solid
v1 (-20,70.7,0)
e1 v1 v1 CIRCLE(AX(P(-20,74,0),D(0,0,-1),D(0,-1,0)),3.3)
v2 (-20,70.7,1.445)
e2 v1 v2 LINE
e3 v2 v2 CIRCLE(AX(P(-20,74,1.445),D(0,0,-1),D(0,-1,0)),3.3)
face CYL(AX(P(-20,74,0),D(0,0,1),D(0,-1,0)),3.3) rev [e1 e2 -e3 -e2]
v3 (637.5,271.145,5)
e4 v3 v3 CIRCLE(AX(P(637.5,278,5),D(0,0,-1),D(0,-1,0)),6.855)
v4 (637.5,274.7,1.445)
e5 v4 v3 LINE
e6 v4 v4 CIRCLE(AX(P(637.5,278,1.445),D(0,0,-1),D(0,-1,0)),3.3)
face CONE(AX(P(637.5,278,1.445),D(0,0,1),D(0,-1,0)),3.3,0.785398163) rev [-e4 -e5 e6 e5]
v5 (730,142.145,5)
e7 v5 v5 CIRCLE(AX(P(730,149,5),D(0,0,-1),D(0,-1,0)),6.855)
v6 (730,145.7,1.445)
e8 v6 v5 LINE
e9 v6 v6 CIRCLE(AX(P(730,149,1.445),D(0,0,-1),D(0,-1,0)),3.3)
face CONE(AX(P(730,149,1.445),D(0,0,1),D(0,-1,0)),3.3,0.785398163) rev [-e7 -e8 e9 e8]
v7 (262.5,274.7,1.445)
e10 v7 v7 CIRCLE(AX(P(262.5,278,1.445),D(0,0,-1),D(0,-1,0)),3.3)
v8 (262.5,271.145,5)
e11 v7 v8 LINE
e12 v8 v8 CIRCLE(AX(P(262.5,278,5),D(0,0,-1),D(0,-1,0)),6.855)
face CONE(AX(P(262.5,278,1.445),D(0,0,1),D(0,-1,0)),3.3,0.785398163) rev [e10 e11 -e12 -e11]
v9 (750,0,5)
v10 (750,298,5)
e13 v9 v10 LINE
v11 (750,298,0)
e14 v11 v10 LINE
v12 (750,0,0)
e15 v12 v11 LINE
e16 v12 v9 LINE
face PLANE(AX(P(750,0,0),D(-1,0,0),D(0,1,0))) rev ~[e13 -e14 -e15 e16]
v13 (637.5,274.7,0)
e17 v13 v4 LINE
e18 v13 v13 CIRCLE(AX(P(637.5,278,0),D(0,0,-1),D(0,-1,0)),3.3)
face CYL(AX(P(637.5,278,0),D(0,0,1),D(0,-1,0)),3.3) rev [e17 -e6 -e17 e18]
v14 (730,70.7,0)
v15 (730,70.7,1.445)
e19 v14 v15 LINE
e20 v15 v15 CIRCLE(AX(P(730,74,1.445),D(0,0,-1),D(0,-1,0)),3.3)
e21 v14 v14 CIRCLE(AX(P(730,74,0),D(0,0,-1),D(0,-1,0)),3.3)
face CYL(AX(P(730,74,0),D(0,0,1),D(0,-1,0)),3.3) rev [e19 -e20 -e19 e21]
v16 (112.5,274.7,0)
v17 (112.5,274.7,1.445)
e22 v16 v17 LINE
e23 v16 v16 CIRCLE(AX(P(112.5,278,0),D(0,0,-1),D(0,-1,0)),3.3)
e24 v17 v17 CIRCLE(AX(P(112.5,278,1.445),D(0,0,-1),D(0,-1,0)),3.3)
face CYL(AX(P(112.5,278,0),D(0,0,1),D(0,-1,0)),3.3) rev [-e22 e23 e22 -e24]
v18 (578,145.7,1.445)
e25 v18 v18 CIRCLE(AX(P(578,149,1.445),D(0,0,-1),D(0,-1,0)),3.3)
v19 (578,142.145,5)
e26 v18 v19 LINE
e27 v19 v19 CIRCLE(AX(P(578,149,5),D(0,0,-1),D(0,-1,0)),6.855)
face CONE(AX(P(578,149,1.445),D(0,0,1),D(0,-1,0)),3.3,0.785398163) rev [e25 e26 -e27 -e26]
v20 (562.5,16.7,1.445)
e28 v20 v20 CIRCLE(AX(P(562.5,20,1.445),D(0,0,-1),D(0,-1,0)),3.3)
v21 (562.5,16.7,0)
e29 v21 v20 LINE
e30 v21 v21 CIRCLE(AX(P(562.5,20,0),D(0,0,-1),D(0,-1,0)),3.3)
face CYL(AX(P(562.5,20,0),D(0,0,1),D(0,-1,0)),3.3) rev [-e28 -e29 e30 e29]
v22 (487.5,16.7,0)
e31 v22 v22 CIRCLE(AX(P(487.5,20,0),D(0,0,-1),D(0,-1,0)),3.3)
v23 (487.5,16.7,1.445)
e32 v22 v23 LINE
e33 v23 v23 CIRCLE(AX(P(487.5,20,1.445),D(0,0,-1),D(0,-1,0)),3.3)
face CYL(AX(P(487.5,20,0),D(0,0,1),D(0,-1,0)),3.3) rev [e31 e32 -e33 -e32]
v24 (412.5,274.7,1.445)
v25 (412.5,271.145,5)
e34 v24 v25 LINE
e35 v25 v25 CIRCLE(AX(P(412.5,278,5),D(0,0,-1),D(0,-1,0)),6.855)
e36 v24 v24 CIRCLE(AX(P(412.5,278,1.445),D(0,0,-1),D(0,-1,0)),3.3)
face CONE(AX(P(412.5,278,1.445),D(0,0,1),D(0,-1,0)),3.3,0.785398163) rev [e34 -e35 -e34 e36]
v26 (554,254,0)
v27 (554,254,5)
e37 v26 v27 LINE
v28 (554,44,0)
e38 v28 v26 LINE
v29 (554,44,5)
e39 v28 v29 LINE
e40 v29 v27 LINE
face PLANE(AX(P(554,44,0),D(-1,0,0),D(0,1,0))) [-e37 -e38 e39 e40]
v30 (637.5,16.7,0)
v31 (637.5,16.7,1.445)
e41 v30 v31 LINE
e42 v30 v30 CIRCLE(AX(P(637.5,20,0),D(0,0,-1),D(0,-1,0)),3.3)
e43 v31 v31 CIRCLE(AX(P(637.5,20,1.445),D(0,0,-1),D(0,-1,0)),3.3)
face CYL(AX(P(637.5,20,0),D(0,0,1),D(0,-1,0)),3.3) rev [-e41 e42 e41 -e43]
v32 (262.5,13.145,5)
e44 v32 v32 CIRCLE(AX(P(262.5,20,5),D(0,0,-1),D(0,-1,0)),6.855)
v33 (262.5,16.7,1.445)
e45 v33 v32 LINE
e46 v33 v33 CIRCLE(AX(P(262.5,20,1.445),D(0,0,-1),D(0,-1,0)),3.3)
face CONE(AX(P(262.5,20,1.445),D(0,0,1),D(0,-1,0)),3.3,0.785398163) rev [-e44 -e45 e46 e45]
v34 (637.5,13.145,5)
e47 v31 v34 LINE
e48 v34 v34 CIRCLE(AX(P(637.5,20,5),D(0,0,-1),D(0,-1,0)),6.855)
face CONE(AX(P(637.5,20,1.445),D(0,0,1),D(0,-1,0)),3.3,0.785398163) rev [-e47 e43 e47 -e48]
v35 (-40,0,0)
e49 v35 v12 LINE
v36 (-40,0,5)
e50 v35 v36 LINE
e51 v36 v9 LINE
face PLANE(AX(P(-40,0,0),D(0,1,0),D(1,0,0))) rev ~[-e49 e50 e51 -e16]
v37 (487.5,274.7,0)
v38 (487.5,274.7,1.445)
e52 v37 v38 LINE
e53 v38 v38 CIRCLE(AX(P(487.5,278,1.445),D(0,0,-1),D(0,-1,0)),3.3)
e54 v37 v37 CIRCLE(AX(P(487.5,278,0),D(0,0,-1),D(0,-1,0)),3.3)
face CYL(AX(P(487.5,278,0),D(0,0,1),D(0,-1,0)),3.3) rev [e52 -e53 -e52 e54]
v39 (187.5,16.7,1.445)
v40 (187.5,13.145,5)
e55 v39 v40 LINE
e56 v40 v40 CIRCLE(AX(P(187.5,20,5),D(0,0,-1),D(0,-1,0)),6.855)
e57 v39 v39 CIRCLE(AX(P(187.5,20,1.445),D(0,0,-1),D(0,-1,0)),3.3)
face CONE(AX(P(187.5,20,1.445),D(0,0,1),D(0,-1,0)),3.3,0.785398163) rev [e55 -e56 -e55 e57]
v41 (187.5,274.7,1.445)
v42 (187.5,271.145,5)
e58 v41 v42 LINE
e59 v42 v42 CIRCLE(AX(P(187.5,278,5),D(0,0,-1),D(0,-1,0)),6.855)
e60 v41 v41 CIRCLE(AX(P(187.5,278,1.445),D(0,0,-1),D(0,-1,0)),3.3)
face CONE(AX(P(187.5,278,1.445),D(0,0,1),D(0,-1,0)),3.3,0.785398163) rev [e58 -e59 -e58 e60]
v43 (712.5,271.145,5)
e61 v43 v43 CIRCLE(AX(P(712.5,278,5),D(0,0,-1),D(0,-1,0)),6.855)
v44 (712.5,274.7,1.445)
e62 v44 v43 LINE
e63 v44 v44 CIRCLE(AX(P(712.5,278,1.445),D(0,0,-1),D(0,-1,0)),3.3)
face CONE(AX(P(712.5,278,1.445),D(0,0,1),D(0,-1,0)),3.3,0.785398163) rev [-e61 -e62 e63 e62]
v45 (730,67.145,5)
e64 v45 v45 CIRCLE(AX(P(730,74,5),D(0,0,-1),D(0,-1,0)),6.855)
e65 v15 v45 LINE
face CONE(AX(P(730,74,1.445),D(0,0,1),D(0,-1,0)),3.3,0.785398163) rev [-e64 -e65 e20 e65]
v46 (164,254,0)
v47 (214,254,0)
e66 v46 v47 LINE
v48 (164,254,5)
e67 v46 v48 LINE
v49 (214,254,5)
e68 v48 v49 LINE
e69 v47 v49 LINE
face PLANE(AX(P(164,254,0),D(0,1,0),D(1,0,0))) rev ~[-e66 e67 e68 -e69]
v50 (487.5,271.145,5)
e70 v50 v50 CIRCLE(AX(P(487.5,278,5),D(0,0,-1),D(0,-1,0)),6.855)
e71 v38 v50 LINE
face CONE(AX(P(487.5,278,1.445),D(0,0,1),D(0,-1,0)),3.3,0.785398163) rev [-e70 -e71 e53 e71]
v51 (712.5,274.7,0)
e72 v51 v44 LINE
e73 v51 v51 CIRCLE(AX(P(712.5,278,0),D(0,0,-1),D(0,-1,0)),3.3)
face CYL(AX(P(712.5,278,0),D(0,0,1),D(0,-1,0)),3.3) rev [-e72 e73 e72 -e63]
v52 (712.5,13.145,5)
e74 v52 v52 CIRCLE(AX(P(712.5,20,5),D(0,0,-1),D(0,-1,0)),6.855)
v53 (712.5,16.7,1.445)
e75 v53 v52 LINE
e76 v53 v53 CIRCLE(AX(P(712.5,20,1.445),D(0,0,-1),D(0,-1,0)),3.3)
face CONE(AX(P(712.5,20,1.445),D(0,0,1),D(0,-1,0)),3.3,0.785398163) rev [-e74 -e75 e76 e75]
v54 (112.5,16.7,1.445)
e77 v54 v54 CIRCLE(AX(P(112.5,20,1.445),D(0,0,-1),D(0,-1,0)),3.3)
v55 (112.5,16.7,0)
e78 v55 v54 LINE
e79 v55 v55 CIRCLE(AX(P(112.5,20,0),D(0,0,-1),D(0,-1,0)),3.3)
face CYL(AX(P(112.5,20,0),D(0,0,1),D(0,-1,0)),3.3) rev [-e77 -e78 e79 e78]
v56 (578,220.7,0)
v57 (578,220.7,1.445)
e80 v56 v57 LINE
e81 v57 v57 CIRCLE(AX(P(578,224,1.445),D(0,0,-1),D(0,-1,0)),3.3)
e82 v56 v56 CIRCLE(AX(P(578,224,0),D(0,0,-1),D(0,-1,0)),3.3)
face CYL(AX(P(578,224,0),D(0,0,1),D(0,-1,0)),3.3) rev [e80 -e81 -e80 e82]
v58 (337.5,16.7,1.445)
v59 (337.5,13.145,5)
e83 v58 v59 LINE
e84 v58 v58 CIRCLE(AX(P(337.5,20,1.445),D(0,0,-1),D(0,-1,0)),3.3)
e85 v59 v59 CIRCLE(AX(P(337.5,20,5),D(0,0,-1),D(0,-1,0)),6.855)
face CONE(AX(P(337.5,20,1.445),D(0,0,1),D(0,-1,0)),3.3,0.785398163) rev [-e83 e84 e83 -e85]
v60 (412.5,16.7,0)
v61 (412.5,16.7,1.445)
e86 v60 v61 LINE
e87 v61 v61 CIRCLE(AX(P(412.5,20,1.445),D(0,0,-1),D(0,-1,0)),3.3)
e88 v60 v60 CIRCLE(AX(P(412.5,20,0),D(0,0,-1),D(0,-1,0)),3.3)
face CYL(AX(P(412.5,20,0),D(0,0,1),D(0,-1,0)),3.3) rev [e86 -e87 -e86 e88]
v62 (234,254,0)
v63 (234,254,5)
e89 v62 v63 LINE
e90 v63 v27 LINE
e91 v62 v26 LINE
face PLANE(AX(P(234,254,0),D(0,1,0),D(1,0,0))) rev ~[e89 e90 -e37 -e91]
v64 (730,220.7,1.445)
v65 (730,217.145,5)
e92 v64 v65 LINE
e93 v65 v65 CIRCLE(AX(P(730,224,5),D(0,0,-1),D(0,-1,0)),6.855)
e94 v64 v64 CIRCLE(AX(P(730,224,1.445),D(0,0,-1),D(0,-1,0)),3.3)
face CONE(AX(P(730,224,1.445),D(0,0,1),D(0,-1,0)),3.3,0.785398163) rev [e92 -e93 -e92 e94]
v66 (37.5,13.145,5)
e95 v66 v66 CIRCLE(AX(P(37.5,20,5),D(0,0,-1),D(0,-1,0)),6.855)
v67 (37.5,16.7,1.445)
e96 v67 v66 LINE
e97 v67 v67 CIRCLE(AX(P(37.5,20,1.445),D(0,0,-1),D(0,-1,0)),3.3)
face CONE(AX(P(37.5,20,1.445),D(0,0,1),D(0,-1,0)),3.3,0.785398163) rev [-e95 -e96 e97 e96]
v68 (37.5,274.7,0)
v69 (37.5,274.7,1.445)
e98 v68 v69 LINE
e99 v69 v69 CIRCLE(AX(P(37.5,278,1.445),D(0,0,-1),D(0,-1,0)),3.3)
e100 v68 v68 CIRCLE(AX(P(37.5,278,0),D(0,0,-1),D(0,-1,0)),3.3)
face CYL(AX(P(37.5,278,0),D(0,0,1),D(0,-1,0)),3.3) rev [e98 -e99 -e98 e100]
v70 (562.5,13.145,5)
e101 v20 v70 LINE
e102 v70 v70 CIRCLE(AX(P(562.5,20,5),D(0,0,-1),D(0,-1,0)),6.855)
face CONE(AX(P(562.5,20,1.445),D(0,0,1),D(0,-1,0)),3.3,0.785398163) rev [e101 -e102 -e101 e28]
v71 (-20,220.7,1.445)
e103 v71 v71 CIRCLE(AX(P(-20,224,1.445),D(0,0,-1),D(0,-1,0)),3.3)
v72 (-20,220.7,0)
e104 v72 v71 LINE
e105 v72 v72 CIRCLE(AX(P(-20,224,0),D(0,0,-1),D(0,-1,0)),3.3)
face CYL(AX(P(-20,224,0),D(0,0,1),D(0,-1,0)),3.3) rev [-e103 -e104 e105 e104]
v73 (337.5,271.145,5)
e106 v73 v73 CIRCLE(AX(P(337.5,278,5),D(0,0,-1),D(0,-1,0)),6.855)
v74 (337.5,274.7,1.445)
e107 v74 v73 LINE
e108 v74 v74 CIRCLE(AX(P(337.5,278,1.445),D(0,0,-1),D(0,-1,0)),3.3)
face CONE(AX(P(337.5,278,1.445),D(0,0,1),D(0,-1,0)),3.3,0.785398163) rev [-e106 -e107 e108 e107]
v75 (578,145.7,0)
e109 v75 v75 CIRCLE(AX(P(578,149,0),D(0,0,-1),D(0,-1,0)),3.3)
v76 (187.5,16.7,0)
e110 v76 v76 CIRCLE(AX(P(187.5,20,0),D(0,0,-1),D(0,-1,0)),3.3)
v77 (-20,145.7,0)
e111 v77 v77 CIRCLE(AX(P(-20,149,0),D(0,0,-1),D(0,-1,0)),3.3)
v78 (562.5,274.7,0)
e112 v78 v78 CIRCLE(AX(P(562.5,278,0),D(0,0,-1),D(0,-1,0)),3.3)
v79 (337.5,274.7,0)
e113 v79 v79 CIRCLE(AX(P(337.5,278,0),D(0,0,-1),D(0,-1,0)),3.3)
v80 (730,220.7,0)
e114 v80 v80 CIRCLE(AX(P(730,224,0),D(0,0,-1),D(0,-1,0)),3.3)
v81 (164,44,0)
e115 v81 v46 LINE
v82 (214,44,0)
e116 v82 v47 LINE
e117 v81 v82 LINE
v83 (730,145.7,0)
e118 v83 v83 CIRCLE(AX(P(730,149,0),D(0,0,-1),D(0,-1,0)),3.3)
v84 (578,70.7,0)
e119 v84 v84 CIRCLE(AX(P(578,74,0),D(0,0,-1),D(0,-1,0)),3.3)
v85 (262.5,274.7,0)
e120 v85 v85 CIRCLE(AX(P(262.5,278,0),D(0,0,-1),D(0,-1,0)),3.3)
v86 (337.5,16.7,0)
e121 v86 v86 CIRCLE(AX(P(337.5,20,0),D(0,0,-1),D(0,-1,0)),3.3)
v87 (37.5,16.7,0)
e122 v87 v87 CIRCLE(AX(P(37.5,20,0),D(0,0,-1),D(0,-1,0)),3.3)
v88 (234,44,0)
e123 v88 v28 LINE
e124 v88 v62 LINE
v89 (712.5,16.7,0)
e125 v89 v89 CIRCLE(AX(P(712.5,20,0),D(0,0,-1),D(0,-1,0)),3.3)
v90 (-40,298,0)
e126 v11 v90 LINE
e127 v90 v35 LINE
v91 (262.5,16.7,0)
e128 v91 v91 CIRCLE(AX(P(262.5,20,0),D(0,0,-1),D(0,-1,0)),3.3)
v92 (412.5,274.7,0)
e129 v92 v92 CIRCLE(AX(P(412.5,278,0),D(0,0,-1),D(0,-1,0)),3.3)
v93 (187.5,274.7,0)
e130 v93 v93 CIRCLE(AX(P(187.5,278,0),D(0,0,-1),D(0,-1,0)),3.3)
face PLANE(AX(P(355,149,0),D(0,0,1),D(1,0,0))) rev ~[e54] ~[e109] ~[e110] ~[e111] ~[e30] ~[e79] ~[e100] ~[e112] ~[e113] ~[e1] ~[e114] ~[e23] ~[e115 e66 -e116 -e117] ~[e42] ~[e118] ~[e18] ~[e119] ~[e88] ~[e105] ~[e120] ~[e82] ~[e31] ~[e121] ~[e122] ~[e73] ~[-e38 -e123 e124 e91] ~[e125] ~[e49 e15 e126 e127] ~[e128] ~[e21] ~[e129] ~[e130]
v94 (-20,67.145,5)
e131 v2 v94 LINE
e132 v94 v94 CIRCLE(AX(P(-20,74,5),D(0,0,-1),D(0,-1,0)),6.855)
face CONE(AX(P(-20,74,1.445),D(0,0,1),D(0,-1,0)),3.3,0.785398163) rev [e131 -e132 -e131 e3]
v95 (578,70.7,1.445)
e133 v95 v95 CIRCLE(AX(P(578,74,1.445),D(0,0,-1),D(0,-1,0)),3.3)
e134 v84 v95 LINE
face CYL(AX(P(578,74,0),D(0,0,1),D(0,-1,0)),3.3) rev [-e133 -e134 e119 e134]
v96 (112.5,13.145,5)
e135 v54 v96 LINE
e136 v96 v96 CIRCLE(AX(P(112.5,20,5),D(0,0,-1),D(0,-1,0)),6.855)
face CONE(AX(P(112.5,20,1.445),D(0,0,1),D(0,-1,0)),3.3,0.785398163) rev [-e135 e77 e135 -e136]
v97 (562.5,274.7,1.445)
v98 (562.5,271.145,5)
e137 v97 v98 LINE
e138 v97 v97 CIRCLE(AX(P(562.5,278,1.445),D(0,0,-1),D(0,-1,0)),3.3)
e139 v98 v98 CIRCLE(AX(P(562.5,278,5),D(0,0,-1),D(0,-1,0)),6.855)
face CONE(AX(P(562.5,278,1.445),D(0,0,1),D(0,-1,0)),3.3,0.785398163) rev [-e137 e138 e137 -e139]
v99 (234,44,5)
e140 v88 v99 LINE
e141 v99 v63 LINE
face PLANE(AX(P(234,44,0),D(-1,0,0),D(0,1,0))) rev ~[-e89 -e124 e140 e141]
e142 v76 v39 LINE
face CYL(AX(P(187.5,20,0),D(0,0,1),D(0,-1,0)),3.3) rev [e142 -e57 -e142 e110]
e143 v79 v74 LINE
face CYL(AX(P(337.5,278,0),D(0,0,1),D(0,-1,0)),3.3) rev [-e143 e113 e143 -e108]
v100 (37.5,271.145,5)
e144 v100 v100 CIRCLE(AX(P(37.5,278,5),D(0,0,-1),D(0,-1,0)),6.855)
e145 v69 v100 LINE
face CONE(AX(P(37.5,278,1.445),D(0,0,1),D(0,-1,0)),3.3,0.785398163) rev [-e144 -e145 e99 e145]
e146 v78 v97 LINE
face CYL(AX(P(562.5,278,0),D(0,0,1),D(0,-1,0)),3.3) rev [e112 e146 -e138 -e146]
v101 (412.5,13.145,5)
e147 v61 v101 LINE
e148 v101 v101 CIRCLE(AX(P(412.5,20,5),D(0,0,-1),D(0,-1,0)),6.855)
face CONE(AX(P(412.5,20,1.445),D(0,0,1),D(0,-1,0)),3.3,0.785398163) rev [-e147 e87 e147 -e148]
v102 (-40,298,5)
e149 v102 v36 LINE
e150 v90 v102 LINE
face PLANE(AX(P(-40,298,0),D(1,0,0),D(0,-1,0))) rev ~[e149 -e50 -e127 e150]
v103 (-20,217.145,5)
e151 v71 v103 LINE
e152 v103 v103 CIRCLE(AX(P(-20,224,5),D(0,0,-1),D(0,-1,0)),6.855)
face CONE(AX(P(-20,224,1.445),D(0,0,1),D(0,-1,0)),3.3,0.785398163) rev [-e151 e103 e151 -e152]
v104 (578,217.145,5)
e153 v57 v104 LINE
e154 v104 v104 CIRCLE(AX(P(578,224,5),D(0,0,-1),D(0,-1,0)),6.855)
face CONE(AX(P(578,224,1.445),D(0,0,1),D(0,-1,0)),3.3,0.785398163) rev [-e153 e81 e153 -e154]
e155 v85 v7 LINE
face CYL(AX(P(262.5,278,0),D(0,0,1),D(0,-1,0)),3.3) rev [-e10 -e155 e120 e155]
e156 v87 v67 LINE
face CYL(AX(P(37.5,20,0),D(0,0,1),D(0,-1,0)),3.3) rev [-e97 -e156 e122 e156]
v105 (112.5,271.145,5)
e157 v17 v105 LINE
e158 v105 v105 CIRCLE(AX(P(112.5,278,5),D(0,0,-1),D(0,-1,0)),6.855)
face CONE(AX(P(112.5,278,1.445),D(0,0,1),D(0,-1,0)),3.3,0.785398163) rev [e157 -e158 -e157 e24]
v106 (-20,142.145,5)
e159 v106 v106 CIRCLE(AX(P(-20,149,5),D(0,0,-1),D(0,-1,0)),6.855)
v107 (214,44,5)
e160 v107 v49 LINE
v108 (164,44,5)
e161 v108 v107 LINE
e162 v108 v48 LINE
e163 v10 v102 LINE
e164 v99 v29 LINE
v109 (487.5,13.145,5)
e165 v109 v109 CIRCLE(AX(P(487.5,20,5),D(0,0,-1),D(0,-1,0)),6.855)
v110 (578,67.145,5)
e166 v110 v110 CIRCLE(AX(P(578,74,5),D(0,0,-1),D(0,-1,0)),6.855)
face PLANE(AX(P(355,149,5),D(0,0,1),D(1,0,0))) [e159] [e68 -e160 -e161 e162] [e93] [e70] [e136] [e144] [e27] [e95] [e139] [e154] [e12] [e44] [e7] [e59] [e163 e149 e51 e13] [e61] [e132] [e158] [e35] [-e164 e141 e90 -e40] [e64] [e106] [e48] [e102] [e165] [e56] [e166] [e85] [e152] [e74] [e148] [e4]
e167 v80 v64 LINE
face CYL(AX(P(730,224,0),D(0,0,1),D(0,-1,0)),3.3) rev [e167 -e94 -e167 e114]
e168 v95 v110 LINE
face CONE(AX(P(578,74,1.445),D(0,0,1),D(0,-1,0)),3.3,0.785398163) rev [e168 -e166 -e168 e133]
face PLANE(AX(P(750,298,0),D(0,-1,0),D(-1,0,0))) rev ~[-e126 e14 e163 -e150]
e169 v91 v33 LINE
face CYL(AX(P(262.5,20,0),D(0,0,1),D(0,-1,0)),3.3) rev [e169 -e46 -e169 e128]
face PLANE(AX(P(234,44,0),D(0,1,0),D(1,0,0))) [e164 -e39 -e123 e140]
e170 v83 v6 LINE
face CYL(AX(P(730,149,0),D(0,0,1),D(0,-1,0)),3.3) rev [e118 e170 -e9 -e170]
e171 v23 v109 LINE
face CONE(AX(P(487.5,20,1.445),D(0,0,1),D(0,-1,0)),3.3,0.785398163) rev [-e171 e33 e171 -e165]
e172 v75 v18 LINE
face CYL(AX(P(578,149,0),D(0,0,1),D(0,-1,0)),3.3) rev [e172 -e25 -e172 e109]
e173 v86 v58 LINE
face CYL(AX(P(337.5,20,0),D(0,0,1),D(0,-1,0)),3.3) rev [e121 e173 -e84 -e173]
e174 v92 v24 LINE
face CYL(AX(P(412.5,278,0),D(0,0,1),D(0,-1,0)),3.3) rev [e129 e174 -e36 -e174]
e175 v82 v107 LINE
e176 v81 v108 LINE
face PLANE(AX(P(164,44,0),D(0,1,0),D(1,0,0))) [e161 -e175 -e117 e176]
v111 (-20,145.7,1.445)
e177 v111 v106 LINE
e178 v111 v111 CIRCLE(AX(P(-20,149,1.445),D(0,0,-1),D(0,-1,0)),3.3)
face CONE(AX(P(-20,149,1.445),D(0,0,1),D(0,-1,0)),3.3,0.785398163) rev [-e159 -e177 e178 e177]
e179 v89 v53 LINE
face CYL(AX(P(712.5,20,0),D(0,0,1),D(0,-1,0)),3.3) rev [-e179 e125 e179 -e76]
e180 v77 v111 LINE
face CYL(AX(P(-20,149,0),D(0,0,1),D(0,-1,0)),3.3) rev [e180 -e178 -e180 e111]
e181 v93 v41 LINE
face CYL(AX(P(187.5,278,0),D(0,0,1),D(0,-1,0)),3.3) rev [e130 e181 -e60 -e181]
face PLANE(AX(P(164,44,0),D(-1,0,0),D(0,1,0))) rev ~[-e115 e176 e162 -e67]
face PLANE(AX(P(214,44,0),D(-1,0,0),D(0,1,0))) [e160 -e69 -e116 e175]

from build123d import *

# Parameters (mm, degrees)
SKETCH_1_W                  = 320
SKETCH_1_H                  = 210
SKETCH_1_W_2                = 50
EXTRUDE_1_DEPTH             = 5
HOLE_WIZARD_M61_AT_2_COUNT  = 2
HOLE_WIZARD_M61_AT_2_PITCH  = 258
HOLE_WIZARD_M61_AT_3_COUNT  = 2
HOLE_WIZARD_M61_AT_3_PITCH  = 75
HOLE_WIZARD_M61_AT_4_COUNT  = 2
HOLE_WIZARD_M61_AT_4_PITCH  = 268.680107191
HOLE_WIZARD_M61_AT_5_COUNT  = 2
HOLE_WIZARD_M61_AT_5_PITCH  = 150
HOLE_WIZARD_M61_AT_6_COUNT  = 2
HOLE_WIZARD_M61_AT_6_PITCH  = 298.435922771
HOLE_WIZARD_M61_AT_7_COUNT  = 2
HOLE_WIZARD_M61_AT_7_PITCH  = 225
HOLE_WIZARD_M61_AT_8_COUNT  = 2
HOLE_WIZARD_M61_AT_8_PITCH  = 342.328789324
HOLE_WIZARD_M61_AT_9_COUNT  = 2
HOLE_WIZARD_M61_AT_9_PITCH  = 300
HOLE_WIZARD_M61_AT_10_COUNT = 2
HOLE_WIZARD_M61_AT_10_PITCH = 395.681690251
HOLE_WIZARD_M61_AT_11_COUNT = 2
HOLE_WIZARD_M61_AT_11_PITCH = 375
HOLE_WIZARD_M61_AT_12_COUNT = 2
HOLE_WIZARD_M61_AT_12_PITCH = 455.180184103
HOLE_WIZARD_M61_AT_13_COUNT = 2
HOLE_WIZARD_M61_AT_13_PITCH = 450
HOLE_WIZARD_M61_AT_14_COUNT = 2
HOLE_WIZARD_M61_AT_14_PITCH = 518.713793917
HOLE_WIZARD_M61_AT_15_COUNT = 2
HOLE_WIZARD_M61_AT_15_PITCH = 525
HOLE_WIZARD_M61_AT_16_COUNT = 2
HOLE_WIZARD_M61_AT_16_PITCH = 584.96922996
HOLE_WIZARD_M61_AT_17_COUNT = 2
HOLE_WIZARD_M61_AT_17_PITCH = 600
HOLE_WIZARD_M61_AT_18_COUNT = 2
HOLE_WIZARD_M61_AT_18_PITCH = 653.118672218
HOLE_WIZARD_M61_AT_19_COUNT = 2
HOLE_WIZARD_M61_AT_19_PITCH = 675
HOLE_WIZARD_M61_AT_20_COUNT = 2
HOLE_WIZARD_M61_AT_20_PITCH = 722.626459521
HOLE_WIZARD_M62_AT_2_COUNT  = 2
HOLE_WIZARD_M62_AT_2_PITCH  = 598
HOLE_WIZARD_M62_AT_3_COUNT  = 2
HOLE_WIZARD_M62_AT_3_PITCH  = 750
HOLE_WIZARD_M62_AT_4_COUNT  = 2
HOLE_WIZARD_M62_AT_4_PITCH  = 75
HOLE_WIZARD_M62_AT_5_COUNT  = 2
HOLE_WIZARD_M62_AT_5_PITCH  = 602.684826423
HOLE_WIZARD_M62_AT_6_COUNT  = 2
HOLE_WIZARD_M62_AT_6_PITCH  = 753.740671584
HOLE_WIZARD_M62_AT_7_COUNT  = 2
HOLE_WIZARD_M62_AT_7_PITCH  = 150
HOLE_WIZARD_M62_AT_8_COUNT  = 2
HOLE_WIZARD_M62_AT_8_PITCH  = 616.525749665
HOLE_WIZARD_M62_AT_9_COUNT  = 2
HOLE_WIZARD_M62_AT_9_PITCH  = 764.852927039


with BuildPart() as part:
    # Эскиз1 → Бобышка-Вытянуть1 (new body)
    with BuildSketch(Plane.XY):
        Polygon((0, 0), (750, 0), (750, 298), (0, 298), (-40, 298), (-40, 0), align=None)
        with Locations((394, 149)):
            Rectangle(SKETCH_1_W, SKETCH_1_H, mode=Mode.SUBTRACT)
        with Locations((189, 149)):
            Rectangle(SKETCH_1_W_2, SKETCH_1_H, mode=Mode.SUBTRACT)
    extrude(amount=EXTRUDE_1_DEPTH)

    # Эскиз2 → Зенковка для винта с потайной головкой и внутренним шестигранником M61 (revolve, cut)
    with BuildSketch(Plane(origin=(37.5, 278, 5), x_dir=(0, -1, 0), z_dir=(1, 0, 0))):
        Polygon((0, 0), (0, 5), (3.3, 5), (3.3, 3.555), (6.855, 0), align=None)
    hole_wizard_m61 = revolve(axis=Axis((37.5, 278, 11.35), (0, 0, -1)), mode=Mode.SUBTRACT)

    # Зенковка для винта с потайной головкой и внутренним шестигранником M61 at 2: Зенковка для винта с потайной головкой и внутренним шестигранником M61 ×2
    with Locations(*[(0, -i * HOLE_WIZARD_M61_AT_2_PITCH, 0) for i in range(1, HOLE_WIZARD_M61_AT_2_COUNT)]):
        add(hole_wizard_m61, mode=Mode.SUBTRACT)

    # Зенковка для винта с потайной головкой и внутренним шестигранником M61 at 3: Зенковка для винта с потайной головкой и внутренним шестигранником M61 ×2
    with Locations(*[(i * HOLE_WIZARD_M61_AT_3_PITCH, 0, 0) for i in range(1, HOLE_WIZARD_M61_AT_3_COUNT)]):
        add(hole_wizard_m61, mode=Mode.SUBTRACT)

    # Зенковка для винта с потайной головкой и внутренним шестигранником M61 at 4: Зенковка для винта с потайной головкой и внутренним шестигранником M61 ×2
    with Locations(*[Vector(0.2791423629542125, -0.9602497285624917, 0) * (i * HOLE_WIZARD_M61_AT_4_PITCH) for i in range(1, HOLE_WIZARD_M61_AT_4_COUNT)]):
        add(hole_wizard_m61, mode=Mode.SUBTRACT)

    # Зенковка для винта с потайной головкой и внутренним шестигранником M61 at 5: Зенковка для винта с потайной головкой и внутренним шестигранником M61 ×2
    with Locations(*[(i * HOLE_WIZARD_M61_AT_5_PITCH, 0, 0) for i in range(1, HOLE_WIZARD_M61_AT_5_COUNT)]):
        add(hole_wizard_m61, mode=Mode.SUBTRACT)

    # Зенковка для винта с потайной головкой и внутренним шестигранником M61 at 6: Зенковка для винта с потайной головкой и внутренним шестигранником M61 ×2
    with Locations(*[Vector(0.5026204573745305, -0.8645071866841928, 0) * (i * HOLE_WIZARD_M61_AT_6_PITCH) for i in range(1, HOLE_WIZARD_M61_AT_6_COUNT)]):
        add(hole_wizard_m61, mode=Mode.SUBTRACT)

    # Зенковка для винта с потайной головкой и внутренним шестигранником M61 at 7: Зенковка для винта с потайной головкой и внутренним шестигранником M61 ×2
    with Locations(*[(i * HOLE_WIZARD_M61_AT_7_PITCH, 0, 0) for i in range(1, HOLE_WIZARD_M61_AT_7_COUNT)]):
        add(hole_wizard_m61, mode=Mode.SUBTRACT)

    # Зенковка для винта с потайной головкой и внутренним шестигранником M61 at 8: Зенковка для винта с потайной головкой и внутренним шестигранником M61 ×2
    with Locations(*[Vector(0.6572628625373397, -0.7536614157094831, 0) * (i * HOLE_WIZARD_M61_AT_8_PITCH) for i in range(1, HOLE_WIZARD_M61_AT_8_COUNT)]):
        add(hole_wizard_m61, mode=Mode.SUBTRACT)

    # Зенковка для винта с потайной головкой и внутренним шестигранником M61 at 9: Зенковка для винта с потайной головкой и внутренним шестигранником M61 ×2
    with Locations(*[(i * HOLE_WIZARD_M61_AT_9_PITCH, 0, 0) for i in range(1, HOLE_WIZARD_M61_AT_9_COUNT)]):
        add(hole_wizard_m61, mode=Mode.SUBTRACT)

    # Зенковка для винта с потайной головкой и внутренним шестигранником M61 at 10: Зенковка для винта с потайной головкой и внутренним шестигранником M61 ×2
    with Locations(*[Vector(0.7581851963116828, -0.6520392688280476, 0) * (i * HOLE_WIZARD_M61_AT_10_PITCH) for i in range(1, HOLE_WIZARD_M61_AT_10_COUNT)]):
        add(hole_wizard_m61, mode=Mode.SUBTRACT)

    # Зенковка для винта с потайной головкой и внутренним шестигранником M61 at 11: Зенковка для винта с потайной головкой и внутренним шестигранником M61 ×2
    with Locations(*[(i * HOLE_WIZARD_M61_AT_11_PITCH, 0, 0) for i in range(1, HOLE_WIZARD_M61_AT_11_COUNT)]):
        add(hole_wizard_m61, mode=Mode.SUBTRACT)

    # Зенковка для винта с потайной головкой и внутренним шестигранником M61 at 12: Зенковка для винта с потайной головкой и внутренним шестигранником M61 ×2
    with Locations(*[Vector(0.823849572316137, -0.5668085057535025, 0) * (i * HOLE_WIZARD_M61_AT_12_PITCH) for i in range(1, HOLE_WIZARD_M61_AT_12_COUNT)]):
        add(hole_wizard_m61, mode=Mode.SUBTRACT)

    # Зенковка для винта с потайной головкой и внутренним шестигранником M61 at 13: Зенковка для винта с потайной головкой и внутренним шестигранником M61 ×2
    with Locations(*[(i * HOLE_WIZARD_M61_AT_13_PITCH, 0, 0) for i in range(1, HOLE_WIZARD_M61_AT_13_COUNT)]):
        add(hole_wizard_m61, mode=Mode.SUBTRACT)

    # Зенковка для винта с потайной головкой и внутренним шестигранником M61 at 14: Зенковка для винта с потайной головкой и внутренним шестигранником M61 ×2
    with Locations(*[Vector(0.8675304286814686, -0.4973841124440422, 0) * (i * HOLE_WIZARD_M61_AT_14_PITCH) for i in range(1, HOLE_WIZARD_M61_AT_14_COUNT)]):
        add(hole_wizard_m61, mode=Mode.SUBTRACT)

    # Зенковка для винта с потайной головкой и внутренним шестигранником M61 at 15: Зенковка для винта с потайной головкой и внутренним шестигранником M61 ×2
    with Locations(*[(i * HOLE_WIZARD_M61_AT_15_PITCH, 0, 0) for i in range(1, HOLE_WIZARD_M61_AT_15_COUNT)]):
        add(hole_wizard_m61, mode=Mode.SUBTRACT)

    # Зенковка для винта с потайной головкой и внутренним шестигранником M61 at 16: Зенковка для винта с потайной головкой и внутренним шестигранником M61 ×2
    with Locations(*[Vector(0.8974831035743466, -0.44104883947082196, 0) * (i * HOLE_WIZARD_M61_AT_16_PITCH) for i in range(1, HOLE_WIZARD_M61_AT_16_COUNT)]):
        add(hole_wizard_m61, mode=Mode.SUBTRACT)

    # Зенковка для винта с потайной головкой и внутренним шестигранником M61 at 17: Зенковка для винта с потайной головкой и внутренним шестигранником M61 ×2
    with Locations(*[(i * HOLE_WIZARD_M61_AT_17_PITCH, 0, 0) for i in range(1, HOLE_WIZARD_M61_AT_17_COUNT)]):
        add(hole_wizard_m61, mode=Mode.SUBTRACT)

    # Зенковка для винта с потайной головкой и внутренним шестигранником M61 at 18: Зенковка для винта с потайной головкой и внутренним шестигранником M61 ×2
    with Locations(*[Vector(0.9186691875800357, -0.3950277506594155, 0) * (i * HOLE_WIZARD_M61_AT_18_PITCH) for i in range(1, HOLE_WIZARD_M61_AT_18_COUNT)]):
        add(hole_wizard_m61, mode=Mode.SUBTRACT)

    # Зенковка для винта с потайной головкой и внутренним шестигранником M61 at 19: Зенковка для винта с потайной головкой и внутренним шестигранником M61 ×2
    with Locations(*[(i * HOLE_WIZARD_M61_AT_19_PITCH, 0, 0) for i in range(1, HOLE_WIZARD_M61_AT_19_COUNT)]):
        add(hole_wizard_m61, mode=Mode.SUBTRACT)

    # Зенковка для винта с потайной головкой и внутренним шестигранником M61 at 20: Зенковка для винта с потайной головкой и внутренним шестигранником M61 ×2
    with Locations(*[Vector(0.9340925606949639, -0.35703093431007527, 0) * (i * HOLE_WIZARD_M61_AT_20_PITCH) for i in range(1, HOLE_WIZARD_M61_AT_20_COUNT)]):
        add(hole_wizard_m61, mode=Mode.SUBTRACT)

    # Эскиз4 → Зенковка для винта с потайной головкой и внутренним шестигранником M62 (revolve, cut)
    with BuildSketch(Plane(origin=(-20, 224, 5), x_dir=(0, -1, 0), z_dir=(1, 0, 0))):
        Polygon((0, 0), (0, 5), (3.3, 5), (3.3, 3.555), (6.855, 0), align=None)
    hole_wizard_m62 = revolve(axis=Axis((-20, 224, 11.35), (0, 0, -1)), mode=Mode.SUBTRACT)

    # Зенковка для винта с потайной головкой и внутренним шестигранником M62 at 2: Зенковка для винта с потайной головкой и внутренним шестигранником M62 ×2
    with Locations(*[(i * HOLE_WIZARD_M62_AT_2_PITCH, 0, 0) for i in range(1, HOLE_WIZARD_M62_AT_2_COUNT)]):
        add(hole_wizard_m62, mode=Mode.SUBTRACT)

    # Зенковка для винта с потайной головкой и внутренним шестигранником M62 at 3: Зенковка для винта с потайной головкой и внутренним шестигранником M62 ×2
    with Locations(*[(i * HOLE_WIZARD_M62_AT_3_PITCH, 0, 0) for i in range(1, HOLE_WIZARD_M62_AT_3_COUNT)]):
        add(hole_wizard_m62, mode=Mode.SUBTRACT)

    # Зенковка для винта с потайной головкой и внутренним шестигранником M62 at 4: Зенковка для винта с потайной головкой и внутренним шестигранником M62 ×2
    with Locations(*[(0, -i * HOLE_WIZARD_M62_AT_4_PITCH, 0) for i in range(1, HOLE_WIZARD_M62_AT_4_COUNT)]):
        add(hole_wizard_m62, mode=Mode.SUBTRACT)

    # Зенковка для винта с потайной головкой и внутренним шестигранником M62 at 5: Зенковка для винта с потайной головкой и внутренним шестигранником M62 ×2
    with Locations(*[Vector(0.9922267390563397, -0.12444315289168138, 0) * (i * HOLE_WIZARD_M62_AT_5_PITCH) for i in range(1, HOLE_WIZARD_M62_AT_5_COUNT)]):
        add(hole_wizard_m62, mode=Mode.SUBTRACT)

    # Зенковка для винта с потайной головкой и внутренним шестигранником M62 at 6: Зенковка для винта с потайной головкой и внутренним шестигранником M62 ×2
    with Locations(*[Vector(0.9950371902099892, -0.09950371902099892, 0) * (i * HOLE_WIZARD_M62_AT_6_PITCH) for i in range(1, HOLE_WIZARD_M62_AT_6_COUNT)]):
        add(hole_wizard_m62, mode=Mode.SUBTRACT)

    # Зенковка для винта с потайной головкой и внутренним шестигранником M62 at 7: Зенковка для винта с потайной головкой и внутренним шестигранником M62 ×2
    with Locations(*[(0, -i * HOLE_WIZARD_M62_AT_7_PITCH, 0) for i in range(1, HOLE_WIZARD_M62_AT_7_COUNT)]):
        add(hole_wizard_m62, mode=Mode.SUBTRACT)

    # Зенковка для винта с потайной головкой и внутренним шестигранником M62 at 8: Зенковка для винта с потайной головкой и внутренним шестигранником M62 ×2
    with Locations(*[Vector(0.9699513772537904, -0.24329884044827513, 0) * (i * HOLE_WIZARD_M62_AT_8_PITCH) for i in range(1, HOLE_WIZARD_M62_AT_8_COUNT)]):
        add(hole_wizard_m62, mode=Mode.SUBTRACT)

    # Зенковка для винта с потайной головкой и внутренним шестигранником M62 at 9: Зенковка для винта с потайной головкой и внутренним шестигранником M62 ×2
    with Locations(*[Vector(0.9805806756909202, -0.19611613513818404, 0) * (i * HOLE_WIZARD_M62_AT_9_PITCH) for i in range(1, HOLE_WIZARD_M62_AT_9_COUNT)]):
        add(hole_wizard_m62, mode=Mode.SUBTRACT)


solid = part.part
